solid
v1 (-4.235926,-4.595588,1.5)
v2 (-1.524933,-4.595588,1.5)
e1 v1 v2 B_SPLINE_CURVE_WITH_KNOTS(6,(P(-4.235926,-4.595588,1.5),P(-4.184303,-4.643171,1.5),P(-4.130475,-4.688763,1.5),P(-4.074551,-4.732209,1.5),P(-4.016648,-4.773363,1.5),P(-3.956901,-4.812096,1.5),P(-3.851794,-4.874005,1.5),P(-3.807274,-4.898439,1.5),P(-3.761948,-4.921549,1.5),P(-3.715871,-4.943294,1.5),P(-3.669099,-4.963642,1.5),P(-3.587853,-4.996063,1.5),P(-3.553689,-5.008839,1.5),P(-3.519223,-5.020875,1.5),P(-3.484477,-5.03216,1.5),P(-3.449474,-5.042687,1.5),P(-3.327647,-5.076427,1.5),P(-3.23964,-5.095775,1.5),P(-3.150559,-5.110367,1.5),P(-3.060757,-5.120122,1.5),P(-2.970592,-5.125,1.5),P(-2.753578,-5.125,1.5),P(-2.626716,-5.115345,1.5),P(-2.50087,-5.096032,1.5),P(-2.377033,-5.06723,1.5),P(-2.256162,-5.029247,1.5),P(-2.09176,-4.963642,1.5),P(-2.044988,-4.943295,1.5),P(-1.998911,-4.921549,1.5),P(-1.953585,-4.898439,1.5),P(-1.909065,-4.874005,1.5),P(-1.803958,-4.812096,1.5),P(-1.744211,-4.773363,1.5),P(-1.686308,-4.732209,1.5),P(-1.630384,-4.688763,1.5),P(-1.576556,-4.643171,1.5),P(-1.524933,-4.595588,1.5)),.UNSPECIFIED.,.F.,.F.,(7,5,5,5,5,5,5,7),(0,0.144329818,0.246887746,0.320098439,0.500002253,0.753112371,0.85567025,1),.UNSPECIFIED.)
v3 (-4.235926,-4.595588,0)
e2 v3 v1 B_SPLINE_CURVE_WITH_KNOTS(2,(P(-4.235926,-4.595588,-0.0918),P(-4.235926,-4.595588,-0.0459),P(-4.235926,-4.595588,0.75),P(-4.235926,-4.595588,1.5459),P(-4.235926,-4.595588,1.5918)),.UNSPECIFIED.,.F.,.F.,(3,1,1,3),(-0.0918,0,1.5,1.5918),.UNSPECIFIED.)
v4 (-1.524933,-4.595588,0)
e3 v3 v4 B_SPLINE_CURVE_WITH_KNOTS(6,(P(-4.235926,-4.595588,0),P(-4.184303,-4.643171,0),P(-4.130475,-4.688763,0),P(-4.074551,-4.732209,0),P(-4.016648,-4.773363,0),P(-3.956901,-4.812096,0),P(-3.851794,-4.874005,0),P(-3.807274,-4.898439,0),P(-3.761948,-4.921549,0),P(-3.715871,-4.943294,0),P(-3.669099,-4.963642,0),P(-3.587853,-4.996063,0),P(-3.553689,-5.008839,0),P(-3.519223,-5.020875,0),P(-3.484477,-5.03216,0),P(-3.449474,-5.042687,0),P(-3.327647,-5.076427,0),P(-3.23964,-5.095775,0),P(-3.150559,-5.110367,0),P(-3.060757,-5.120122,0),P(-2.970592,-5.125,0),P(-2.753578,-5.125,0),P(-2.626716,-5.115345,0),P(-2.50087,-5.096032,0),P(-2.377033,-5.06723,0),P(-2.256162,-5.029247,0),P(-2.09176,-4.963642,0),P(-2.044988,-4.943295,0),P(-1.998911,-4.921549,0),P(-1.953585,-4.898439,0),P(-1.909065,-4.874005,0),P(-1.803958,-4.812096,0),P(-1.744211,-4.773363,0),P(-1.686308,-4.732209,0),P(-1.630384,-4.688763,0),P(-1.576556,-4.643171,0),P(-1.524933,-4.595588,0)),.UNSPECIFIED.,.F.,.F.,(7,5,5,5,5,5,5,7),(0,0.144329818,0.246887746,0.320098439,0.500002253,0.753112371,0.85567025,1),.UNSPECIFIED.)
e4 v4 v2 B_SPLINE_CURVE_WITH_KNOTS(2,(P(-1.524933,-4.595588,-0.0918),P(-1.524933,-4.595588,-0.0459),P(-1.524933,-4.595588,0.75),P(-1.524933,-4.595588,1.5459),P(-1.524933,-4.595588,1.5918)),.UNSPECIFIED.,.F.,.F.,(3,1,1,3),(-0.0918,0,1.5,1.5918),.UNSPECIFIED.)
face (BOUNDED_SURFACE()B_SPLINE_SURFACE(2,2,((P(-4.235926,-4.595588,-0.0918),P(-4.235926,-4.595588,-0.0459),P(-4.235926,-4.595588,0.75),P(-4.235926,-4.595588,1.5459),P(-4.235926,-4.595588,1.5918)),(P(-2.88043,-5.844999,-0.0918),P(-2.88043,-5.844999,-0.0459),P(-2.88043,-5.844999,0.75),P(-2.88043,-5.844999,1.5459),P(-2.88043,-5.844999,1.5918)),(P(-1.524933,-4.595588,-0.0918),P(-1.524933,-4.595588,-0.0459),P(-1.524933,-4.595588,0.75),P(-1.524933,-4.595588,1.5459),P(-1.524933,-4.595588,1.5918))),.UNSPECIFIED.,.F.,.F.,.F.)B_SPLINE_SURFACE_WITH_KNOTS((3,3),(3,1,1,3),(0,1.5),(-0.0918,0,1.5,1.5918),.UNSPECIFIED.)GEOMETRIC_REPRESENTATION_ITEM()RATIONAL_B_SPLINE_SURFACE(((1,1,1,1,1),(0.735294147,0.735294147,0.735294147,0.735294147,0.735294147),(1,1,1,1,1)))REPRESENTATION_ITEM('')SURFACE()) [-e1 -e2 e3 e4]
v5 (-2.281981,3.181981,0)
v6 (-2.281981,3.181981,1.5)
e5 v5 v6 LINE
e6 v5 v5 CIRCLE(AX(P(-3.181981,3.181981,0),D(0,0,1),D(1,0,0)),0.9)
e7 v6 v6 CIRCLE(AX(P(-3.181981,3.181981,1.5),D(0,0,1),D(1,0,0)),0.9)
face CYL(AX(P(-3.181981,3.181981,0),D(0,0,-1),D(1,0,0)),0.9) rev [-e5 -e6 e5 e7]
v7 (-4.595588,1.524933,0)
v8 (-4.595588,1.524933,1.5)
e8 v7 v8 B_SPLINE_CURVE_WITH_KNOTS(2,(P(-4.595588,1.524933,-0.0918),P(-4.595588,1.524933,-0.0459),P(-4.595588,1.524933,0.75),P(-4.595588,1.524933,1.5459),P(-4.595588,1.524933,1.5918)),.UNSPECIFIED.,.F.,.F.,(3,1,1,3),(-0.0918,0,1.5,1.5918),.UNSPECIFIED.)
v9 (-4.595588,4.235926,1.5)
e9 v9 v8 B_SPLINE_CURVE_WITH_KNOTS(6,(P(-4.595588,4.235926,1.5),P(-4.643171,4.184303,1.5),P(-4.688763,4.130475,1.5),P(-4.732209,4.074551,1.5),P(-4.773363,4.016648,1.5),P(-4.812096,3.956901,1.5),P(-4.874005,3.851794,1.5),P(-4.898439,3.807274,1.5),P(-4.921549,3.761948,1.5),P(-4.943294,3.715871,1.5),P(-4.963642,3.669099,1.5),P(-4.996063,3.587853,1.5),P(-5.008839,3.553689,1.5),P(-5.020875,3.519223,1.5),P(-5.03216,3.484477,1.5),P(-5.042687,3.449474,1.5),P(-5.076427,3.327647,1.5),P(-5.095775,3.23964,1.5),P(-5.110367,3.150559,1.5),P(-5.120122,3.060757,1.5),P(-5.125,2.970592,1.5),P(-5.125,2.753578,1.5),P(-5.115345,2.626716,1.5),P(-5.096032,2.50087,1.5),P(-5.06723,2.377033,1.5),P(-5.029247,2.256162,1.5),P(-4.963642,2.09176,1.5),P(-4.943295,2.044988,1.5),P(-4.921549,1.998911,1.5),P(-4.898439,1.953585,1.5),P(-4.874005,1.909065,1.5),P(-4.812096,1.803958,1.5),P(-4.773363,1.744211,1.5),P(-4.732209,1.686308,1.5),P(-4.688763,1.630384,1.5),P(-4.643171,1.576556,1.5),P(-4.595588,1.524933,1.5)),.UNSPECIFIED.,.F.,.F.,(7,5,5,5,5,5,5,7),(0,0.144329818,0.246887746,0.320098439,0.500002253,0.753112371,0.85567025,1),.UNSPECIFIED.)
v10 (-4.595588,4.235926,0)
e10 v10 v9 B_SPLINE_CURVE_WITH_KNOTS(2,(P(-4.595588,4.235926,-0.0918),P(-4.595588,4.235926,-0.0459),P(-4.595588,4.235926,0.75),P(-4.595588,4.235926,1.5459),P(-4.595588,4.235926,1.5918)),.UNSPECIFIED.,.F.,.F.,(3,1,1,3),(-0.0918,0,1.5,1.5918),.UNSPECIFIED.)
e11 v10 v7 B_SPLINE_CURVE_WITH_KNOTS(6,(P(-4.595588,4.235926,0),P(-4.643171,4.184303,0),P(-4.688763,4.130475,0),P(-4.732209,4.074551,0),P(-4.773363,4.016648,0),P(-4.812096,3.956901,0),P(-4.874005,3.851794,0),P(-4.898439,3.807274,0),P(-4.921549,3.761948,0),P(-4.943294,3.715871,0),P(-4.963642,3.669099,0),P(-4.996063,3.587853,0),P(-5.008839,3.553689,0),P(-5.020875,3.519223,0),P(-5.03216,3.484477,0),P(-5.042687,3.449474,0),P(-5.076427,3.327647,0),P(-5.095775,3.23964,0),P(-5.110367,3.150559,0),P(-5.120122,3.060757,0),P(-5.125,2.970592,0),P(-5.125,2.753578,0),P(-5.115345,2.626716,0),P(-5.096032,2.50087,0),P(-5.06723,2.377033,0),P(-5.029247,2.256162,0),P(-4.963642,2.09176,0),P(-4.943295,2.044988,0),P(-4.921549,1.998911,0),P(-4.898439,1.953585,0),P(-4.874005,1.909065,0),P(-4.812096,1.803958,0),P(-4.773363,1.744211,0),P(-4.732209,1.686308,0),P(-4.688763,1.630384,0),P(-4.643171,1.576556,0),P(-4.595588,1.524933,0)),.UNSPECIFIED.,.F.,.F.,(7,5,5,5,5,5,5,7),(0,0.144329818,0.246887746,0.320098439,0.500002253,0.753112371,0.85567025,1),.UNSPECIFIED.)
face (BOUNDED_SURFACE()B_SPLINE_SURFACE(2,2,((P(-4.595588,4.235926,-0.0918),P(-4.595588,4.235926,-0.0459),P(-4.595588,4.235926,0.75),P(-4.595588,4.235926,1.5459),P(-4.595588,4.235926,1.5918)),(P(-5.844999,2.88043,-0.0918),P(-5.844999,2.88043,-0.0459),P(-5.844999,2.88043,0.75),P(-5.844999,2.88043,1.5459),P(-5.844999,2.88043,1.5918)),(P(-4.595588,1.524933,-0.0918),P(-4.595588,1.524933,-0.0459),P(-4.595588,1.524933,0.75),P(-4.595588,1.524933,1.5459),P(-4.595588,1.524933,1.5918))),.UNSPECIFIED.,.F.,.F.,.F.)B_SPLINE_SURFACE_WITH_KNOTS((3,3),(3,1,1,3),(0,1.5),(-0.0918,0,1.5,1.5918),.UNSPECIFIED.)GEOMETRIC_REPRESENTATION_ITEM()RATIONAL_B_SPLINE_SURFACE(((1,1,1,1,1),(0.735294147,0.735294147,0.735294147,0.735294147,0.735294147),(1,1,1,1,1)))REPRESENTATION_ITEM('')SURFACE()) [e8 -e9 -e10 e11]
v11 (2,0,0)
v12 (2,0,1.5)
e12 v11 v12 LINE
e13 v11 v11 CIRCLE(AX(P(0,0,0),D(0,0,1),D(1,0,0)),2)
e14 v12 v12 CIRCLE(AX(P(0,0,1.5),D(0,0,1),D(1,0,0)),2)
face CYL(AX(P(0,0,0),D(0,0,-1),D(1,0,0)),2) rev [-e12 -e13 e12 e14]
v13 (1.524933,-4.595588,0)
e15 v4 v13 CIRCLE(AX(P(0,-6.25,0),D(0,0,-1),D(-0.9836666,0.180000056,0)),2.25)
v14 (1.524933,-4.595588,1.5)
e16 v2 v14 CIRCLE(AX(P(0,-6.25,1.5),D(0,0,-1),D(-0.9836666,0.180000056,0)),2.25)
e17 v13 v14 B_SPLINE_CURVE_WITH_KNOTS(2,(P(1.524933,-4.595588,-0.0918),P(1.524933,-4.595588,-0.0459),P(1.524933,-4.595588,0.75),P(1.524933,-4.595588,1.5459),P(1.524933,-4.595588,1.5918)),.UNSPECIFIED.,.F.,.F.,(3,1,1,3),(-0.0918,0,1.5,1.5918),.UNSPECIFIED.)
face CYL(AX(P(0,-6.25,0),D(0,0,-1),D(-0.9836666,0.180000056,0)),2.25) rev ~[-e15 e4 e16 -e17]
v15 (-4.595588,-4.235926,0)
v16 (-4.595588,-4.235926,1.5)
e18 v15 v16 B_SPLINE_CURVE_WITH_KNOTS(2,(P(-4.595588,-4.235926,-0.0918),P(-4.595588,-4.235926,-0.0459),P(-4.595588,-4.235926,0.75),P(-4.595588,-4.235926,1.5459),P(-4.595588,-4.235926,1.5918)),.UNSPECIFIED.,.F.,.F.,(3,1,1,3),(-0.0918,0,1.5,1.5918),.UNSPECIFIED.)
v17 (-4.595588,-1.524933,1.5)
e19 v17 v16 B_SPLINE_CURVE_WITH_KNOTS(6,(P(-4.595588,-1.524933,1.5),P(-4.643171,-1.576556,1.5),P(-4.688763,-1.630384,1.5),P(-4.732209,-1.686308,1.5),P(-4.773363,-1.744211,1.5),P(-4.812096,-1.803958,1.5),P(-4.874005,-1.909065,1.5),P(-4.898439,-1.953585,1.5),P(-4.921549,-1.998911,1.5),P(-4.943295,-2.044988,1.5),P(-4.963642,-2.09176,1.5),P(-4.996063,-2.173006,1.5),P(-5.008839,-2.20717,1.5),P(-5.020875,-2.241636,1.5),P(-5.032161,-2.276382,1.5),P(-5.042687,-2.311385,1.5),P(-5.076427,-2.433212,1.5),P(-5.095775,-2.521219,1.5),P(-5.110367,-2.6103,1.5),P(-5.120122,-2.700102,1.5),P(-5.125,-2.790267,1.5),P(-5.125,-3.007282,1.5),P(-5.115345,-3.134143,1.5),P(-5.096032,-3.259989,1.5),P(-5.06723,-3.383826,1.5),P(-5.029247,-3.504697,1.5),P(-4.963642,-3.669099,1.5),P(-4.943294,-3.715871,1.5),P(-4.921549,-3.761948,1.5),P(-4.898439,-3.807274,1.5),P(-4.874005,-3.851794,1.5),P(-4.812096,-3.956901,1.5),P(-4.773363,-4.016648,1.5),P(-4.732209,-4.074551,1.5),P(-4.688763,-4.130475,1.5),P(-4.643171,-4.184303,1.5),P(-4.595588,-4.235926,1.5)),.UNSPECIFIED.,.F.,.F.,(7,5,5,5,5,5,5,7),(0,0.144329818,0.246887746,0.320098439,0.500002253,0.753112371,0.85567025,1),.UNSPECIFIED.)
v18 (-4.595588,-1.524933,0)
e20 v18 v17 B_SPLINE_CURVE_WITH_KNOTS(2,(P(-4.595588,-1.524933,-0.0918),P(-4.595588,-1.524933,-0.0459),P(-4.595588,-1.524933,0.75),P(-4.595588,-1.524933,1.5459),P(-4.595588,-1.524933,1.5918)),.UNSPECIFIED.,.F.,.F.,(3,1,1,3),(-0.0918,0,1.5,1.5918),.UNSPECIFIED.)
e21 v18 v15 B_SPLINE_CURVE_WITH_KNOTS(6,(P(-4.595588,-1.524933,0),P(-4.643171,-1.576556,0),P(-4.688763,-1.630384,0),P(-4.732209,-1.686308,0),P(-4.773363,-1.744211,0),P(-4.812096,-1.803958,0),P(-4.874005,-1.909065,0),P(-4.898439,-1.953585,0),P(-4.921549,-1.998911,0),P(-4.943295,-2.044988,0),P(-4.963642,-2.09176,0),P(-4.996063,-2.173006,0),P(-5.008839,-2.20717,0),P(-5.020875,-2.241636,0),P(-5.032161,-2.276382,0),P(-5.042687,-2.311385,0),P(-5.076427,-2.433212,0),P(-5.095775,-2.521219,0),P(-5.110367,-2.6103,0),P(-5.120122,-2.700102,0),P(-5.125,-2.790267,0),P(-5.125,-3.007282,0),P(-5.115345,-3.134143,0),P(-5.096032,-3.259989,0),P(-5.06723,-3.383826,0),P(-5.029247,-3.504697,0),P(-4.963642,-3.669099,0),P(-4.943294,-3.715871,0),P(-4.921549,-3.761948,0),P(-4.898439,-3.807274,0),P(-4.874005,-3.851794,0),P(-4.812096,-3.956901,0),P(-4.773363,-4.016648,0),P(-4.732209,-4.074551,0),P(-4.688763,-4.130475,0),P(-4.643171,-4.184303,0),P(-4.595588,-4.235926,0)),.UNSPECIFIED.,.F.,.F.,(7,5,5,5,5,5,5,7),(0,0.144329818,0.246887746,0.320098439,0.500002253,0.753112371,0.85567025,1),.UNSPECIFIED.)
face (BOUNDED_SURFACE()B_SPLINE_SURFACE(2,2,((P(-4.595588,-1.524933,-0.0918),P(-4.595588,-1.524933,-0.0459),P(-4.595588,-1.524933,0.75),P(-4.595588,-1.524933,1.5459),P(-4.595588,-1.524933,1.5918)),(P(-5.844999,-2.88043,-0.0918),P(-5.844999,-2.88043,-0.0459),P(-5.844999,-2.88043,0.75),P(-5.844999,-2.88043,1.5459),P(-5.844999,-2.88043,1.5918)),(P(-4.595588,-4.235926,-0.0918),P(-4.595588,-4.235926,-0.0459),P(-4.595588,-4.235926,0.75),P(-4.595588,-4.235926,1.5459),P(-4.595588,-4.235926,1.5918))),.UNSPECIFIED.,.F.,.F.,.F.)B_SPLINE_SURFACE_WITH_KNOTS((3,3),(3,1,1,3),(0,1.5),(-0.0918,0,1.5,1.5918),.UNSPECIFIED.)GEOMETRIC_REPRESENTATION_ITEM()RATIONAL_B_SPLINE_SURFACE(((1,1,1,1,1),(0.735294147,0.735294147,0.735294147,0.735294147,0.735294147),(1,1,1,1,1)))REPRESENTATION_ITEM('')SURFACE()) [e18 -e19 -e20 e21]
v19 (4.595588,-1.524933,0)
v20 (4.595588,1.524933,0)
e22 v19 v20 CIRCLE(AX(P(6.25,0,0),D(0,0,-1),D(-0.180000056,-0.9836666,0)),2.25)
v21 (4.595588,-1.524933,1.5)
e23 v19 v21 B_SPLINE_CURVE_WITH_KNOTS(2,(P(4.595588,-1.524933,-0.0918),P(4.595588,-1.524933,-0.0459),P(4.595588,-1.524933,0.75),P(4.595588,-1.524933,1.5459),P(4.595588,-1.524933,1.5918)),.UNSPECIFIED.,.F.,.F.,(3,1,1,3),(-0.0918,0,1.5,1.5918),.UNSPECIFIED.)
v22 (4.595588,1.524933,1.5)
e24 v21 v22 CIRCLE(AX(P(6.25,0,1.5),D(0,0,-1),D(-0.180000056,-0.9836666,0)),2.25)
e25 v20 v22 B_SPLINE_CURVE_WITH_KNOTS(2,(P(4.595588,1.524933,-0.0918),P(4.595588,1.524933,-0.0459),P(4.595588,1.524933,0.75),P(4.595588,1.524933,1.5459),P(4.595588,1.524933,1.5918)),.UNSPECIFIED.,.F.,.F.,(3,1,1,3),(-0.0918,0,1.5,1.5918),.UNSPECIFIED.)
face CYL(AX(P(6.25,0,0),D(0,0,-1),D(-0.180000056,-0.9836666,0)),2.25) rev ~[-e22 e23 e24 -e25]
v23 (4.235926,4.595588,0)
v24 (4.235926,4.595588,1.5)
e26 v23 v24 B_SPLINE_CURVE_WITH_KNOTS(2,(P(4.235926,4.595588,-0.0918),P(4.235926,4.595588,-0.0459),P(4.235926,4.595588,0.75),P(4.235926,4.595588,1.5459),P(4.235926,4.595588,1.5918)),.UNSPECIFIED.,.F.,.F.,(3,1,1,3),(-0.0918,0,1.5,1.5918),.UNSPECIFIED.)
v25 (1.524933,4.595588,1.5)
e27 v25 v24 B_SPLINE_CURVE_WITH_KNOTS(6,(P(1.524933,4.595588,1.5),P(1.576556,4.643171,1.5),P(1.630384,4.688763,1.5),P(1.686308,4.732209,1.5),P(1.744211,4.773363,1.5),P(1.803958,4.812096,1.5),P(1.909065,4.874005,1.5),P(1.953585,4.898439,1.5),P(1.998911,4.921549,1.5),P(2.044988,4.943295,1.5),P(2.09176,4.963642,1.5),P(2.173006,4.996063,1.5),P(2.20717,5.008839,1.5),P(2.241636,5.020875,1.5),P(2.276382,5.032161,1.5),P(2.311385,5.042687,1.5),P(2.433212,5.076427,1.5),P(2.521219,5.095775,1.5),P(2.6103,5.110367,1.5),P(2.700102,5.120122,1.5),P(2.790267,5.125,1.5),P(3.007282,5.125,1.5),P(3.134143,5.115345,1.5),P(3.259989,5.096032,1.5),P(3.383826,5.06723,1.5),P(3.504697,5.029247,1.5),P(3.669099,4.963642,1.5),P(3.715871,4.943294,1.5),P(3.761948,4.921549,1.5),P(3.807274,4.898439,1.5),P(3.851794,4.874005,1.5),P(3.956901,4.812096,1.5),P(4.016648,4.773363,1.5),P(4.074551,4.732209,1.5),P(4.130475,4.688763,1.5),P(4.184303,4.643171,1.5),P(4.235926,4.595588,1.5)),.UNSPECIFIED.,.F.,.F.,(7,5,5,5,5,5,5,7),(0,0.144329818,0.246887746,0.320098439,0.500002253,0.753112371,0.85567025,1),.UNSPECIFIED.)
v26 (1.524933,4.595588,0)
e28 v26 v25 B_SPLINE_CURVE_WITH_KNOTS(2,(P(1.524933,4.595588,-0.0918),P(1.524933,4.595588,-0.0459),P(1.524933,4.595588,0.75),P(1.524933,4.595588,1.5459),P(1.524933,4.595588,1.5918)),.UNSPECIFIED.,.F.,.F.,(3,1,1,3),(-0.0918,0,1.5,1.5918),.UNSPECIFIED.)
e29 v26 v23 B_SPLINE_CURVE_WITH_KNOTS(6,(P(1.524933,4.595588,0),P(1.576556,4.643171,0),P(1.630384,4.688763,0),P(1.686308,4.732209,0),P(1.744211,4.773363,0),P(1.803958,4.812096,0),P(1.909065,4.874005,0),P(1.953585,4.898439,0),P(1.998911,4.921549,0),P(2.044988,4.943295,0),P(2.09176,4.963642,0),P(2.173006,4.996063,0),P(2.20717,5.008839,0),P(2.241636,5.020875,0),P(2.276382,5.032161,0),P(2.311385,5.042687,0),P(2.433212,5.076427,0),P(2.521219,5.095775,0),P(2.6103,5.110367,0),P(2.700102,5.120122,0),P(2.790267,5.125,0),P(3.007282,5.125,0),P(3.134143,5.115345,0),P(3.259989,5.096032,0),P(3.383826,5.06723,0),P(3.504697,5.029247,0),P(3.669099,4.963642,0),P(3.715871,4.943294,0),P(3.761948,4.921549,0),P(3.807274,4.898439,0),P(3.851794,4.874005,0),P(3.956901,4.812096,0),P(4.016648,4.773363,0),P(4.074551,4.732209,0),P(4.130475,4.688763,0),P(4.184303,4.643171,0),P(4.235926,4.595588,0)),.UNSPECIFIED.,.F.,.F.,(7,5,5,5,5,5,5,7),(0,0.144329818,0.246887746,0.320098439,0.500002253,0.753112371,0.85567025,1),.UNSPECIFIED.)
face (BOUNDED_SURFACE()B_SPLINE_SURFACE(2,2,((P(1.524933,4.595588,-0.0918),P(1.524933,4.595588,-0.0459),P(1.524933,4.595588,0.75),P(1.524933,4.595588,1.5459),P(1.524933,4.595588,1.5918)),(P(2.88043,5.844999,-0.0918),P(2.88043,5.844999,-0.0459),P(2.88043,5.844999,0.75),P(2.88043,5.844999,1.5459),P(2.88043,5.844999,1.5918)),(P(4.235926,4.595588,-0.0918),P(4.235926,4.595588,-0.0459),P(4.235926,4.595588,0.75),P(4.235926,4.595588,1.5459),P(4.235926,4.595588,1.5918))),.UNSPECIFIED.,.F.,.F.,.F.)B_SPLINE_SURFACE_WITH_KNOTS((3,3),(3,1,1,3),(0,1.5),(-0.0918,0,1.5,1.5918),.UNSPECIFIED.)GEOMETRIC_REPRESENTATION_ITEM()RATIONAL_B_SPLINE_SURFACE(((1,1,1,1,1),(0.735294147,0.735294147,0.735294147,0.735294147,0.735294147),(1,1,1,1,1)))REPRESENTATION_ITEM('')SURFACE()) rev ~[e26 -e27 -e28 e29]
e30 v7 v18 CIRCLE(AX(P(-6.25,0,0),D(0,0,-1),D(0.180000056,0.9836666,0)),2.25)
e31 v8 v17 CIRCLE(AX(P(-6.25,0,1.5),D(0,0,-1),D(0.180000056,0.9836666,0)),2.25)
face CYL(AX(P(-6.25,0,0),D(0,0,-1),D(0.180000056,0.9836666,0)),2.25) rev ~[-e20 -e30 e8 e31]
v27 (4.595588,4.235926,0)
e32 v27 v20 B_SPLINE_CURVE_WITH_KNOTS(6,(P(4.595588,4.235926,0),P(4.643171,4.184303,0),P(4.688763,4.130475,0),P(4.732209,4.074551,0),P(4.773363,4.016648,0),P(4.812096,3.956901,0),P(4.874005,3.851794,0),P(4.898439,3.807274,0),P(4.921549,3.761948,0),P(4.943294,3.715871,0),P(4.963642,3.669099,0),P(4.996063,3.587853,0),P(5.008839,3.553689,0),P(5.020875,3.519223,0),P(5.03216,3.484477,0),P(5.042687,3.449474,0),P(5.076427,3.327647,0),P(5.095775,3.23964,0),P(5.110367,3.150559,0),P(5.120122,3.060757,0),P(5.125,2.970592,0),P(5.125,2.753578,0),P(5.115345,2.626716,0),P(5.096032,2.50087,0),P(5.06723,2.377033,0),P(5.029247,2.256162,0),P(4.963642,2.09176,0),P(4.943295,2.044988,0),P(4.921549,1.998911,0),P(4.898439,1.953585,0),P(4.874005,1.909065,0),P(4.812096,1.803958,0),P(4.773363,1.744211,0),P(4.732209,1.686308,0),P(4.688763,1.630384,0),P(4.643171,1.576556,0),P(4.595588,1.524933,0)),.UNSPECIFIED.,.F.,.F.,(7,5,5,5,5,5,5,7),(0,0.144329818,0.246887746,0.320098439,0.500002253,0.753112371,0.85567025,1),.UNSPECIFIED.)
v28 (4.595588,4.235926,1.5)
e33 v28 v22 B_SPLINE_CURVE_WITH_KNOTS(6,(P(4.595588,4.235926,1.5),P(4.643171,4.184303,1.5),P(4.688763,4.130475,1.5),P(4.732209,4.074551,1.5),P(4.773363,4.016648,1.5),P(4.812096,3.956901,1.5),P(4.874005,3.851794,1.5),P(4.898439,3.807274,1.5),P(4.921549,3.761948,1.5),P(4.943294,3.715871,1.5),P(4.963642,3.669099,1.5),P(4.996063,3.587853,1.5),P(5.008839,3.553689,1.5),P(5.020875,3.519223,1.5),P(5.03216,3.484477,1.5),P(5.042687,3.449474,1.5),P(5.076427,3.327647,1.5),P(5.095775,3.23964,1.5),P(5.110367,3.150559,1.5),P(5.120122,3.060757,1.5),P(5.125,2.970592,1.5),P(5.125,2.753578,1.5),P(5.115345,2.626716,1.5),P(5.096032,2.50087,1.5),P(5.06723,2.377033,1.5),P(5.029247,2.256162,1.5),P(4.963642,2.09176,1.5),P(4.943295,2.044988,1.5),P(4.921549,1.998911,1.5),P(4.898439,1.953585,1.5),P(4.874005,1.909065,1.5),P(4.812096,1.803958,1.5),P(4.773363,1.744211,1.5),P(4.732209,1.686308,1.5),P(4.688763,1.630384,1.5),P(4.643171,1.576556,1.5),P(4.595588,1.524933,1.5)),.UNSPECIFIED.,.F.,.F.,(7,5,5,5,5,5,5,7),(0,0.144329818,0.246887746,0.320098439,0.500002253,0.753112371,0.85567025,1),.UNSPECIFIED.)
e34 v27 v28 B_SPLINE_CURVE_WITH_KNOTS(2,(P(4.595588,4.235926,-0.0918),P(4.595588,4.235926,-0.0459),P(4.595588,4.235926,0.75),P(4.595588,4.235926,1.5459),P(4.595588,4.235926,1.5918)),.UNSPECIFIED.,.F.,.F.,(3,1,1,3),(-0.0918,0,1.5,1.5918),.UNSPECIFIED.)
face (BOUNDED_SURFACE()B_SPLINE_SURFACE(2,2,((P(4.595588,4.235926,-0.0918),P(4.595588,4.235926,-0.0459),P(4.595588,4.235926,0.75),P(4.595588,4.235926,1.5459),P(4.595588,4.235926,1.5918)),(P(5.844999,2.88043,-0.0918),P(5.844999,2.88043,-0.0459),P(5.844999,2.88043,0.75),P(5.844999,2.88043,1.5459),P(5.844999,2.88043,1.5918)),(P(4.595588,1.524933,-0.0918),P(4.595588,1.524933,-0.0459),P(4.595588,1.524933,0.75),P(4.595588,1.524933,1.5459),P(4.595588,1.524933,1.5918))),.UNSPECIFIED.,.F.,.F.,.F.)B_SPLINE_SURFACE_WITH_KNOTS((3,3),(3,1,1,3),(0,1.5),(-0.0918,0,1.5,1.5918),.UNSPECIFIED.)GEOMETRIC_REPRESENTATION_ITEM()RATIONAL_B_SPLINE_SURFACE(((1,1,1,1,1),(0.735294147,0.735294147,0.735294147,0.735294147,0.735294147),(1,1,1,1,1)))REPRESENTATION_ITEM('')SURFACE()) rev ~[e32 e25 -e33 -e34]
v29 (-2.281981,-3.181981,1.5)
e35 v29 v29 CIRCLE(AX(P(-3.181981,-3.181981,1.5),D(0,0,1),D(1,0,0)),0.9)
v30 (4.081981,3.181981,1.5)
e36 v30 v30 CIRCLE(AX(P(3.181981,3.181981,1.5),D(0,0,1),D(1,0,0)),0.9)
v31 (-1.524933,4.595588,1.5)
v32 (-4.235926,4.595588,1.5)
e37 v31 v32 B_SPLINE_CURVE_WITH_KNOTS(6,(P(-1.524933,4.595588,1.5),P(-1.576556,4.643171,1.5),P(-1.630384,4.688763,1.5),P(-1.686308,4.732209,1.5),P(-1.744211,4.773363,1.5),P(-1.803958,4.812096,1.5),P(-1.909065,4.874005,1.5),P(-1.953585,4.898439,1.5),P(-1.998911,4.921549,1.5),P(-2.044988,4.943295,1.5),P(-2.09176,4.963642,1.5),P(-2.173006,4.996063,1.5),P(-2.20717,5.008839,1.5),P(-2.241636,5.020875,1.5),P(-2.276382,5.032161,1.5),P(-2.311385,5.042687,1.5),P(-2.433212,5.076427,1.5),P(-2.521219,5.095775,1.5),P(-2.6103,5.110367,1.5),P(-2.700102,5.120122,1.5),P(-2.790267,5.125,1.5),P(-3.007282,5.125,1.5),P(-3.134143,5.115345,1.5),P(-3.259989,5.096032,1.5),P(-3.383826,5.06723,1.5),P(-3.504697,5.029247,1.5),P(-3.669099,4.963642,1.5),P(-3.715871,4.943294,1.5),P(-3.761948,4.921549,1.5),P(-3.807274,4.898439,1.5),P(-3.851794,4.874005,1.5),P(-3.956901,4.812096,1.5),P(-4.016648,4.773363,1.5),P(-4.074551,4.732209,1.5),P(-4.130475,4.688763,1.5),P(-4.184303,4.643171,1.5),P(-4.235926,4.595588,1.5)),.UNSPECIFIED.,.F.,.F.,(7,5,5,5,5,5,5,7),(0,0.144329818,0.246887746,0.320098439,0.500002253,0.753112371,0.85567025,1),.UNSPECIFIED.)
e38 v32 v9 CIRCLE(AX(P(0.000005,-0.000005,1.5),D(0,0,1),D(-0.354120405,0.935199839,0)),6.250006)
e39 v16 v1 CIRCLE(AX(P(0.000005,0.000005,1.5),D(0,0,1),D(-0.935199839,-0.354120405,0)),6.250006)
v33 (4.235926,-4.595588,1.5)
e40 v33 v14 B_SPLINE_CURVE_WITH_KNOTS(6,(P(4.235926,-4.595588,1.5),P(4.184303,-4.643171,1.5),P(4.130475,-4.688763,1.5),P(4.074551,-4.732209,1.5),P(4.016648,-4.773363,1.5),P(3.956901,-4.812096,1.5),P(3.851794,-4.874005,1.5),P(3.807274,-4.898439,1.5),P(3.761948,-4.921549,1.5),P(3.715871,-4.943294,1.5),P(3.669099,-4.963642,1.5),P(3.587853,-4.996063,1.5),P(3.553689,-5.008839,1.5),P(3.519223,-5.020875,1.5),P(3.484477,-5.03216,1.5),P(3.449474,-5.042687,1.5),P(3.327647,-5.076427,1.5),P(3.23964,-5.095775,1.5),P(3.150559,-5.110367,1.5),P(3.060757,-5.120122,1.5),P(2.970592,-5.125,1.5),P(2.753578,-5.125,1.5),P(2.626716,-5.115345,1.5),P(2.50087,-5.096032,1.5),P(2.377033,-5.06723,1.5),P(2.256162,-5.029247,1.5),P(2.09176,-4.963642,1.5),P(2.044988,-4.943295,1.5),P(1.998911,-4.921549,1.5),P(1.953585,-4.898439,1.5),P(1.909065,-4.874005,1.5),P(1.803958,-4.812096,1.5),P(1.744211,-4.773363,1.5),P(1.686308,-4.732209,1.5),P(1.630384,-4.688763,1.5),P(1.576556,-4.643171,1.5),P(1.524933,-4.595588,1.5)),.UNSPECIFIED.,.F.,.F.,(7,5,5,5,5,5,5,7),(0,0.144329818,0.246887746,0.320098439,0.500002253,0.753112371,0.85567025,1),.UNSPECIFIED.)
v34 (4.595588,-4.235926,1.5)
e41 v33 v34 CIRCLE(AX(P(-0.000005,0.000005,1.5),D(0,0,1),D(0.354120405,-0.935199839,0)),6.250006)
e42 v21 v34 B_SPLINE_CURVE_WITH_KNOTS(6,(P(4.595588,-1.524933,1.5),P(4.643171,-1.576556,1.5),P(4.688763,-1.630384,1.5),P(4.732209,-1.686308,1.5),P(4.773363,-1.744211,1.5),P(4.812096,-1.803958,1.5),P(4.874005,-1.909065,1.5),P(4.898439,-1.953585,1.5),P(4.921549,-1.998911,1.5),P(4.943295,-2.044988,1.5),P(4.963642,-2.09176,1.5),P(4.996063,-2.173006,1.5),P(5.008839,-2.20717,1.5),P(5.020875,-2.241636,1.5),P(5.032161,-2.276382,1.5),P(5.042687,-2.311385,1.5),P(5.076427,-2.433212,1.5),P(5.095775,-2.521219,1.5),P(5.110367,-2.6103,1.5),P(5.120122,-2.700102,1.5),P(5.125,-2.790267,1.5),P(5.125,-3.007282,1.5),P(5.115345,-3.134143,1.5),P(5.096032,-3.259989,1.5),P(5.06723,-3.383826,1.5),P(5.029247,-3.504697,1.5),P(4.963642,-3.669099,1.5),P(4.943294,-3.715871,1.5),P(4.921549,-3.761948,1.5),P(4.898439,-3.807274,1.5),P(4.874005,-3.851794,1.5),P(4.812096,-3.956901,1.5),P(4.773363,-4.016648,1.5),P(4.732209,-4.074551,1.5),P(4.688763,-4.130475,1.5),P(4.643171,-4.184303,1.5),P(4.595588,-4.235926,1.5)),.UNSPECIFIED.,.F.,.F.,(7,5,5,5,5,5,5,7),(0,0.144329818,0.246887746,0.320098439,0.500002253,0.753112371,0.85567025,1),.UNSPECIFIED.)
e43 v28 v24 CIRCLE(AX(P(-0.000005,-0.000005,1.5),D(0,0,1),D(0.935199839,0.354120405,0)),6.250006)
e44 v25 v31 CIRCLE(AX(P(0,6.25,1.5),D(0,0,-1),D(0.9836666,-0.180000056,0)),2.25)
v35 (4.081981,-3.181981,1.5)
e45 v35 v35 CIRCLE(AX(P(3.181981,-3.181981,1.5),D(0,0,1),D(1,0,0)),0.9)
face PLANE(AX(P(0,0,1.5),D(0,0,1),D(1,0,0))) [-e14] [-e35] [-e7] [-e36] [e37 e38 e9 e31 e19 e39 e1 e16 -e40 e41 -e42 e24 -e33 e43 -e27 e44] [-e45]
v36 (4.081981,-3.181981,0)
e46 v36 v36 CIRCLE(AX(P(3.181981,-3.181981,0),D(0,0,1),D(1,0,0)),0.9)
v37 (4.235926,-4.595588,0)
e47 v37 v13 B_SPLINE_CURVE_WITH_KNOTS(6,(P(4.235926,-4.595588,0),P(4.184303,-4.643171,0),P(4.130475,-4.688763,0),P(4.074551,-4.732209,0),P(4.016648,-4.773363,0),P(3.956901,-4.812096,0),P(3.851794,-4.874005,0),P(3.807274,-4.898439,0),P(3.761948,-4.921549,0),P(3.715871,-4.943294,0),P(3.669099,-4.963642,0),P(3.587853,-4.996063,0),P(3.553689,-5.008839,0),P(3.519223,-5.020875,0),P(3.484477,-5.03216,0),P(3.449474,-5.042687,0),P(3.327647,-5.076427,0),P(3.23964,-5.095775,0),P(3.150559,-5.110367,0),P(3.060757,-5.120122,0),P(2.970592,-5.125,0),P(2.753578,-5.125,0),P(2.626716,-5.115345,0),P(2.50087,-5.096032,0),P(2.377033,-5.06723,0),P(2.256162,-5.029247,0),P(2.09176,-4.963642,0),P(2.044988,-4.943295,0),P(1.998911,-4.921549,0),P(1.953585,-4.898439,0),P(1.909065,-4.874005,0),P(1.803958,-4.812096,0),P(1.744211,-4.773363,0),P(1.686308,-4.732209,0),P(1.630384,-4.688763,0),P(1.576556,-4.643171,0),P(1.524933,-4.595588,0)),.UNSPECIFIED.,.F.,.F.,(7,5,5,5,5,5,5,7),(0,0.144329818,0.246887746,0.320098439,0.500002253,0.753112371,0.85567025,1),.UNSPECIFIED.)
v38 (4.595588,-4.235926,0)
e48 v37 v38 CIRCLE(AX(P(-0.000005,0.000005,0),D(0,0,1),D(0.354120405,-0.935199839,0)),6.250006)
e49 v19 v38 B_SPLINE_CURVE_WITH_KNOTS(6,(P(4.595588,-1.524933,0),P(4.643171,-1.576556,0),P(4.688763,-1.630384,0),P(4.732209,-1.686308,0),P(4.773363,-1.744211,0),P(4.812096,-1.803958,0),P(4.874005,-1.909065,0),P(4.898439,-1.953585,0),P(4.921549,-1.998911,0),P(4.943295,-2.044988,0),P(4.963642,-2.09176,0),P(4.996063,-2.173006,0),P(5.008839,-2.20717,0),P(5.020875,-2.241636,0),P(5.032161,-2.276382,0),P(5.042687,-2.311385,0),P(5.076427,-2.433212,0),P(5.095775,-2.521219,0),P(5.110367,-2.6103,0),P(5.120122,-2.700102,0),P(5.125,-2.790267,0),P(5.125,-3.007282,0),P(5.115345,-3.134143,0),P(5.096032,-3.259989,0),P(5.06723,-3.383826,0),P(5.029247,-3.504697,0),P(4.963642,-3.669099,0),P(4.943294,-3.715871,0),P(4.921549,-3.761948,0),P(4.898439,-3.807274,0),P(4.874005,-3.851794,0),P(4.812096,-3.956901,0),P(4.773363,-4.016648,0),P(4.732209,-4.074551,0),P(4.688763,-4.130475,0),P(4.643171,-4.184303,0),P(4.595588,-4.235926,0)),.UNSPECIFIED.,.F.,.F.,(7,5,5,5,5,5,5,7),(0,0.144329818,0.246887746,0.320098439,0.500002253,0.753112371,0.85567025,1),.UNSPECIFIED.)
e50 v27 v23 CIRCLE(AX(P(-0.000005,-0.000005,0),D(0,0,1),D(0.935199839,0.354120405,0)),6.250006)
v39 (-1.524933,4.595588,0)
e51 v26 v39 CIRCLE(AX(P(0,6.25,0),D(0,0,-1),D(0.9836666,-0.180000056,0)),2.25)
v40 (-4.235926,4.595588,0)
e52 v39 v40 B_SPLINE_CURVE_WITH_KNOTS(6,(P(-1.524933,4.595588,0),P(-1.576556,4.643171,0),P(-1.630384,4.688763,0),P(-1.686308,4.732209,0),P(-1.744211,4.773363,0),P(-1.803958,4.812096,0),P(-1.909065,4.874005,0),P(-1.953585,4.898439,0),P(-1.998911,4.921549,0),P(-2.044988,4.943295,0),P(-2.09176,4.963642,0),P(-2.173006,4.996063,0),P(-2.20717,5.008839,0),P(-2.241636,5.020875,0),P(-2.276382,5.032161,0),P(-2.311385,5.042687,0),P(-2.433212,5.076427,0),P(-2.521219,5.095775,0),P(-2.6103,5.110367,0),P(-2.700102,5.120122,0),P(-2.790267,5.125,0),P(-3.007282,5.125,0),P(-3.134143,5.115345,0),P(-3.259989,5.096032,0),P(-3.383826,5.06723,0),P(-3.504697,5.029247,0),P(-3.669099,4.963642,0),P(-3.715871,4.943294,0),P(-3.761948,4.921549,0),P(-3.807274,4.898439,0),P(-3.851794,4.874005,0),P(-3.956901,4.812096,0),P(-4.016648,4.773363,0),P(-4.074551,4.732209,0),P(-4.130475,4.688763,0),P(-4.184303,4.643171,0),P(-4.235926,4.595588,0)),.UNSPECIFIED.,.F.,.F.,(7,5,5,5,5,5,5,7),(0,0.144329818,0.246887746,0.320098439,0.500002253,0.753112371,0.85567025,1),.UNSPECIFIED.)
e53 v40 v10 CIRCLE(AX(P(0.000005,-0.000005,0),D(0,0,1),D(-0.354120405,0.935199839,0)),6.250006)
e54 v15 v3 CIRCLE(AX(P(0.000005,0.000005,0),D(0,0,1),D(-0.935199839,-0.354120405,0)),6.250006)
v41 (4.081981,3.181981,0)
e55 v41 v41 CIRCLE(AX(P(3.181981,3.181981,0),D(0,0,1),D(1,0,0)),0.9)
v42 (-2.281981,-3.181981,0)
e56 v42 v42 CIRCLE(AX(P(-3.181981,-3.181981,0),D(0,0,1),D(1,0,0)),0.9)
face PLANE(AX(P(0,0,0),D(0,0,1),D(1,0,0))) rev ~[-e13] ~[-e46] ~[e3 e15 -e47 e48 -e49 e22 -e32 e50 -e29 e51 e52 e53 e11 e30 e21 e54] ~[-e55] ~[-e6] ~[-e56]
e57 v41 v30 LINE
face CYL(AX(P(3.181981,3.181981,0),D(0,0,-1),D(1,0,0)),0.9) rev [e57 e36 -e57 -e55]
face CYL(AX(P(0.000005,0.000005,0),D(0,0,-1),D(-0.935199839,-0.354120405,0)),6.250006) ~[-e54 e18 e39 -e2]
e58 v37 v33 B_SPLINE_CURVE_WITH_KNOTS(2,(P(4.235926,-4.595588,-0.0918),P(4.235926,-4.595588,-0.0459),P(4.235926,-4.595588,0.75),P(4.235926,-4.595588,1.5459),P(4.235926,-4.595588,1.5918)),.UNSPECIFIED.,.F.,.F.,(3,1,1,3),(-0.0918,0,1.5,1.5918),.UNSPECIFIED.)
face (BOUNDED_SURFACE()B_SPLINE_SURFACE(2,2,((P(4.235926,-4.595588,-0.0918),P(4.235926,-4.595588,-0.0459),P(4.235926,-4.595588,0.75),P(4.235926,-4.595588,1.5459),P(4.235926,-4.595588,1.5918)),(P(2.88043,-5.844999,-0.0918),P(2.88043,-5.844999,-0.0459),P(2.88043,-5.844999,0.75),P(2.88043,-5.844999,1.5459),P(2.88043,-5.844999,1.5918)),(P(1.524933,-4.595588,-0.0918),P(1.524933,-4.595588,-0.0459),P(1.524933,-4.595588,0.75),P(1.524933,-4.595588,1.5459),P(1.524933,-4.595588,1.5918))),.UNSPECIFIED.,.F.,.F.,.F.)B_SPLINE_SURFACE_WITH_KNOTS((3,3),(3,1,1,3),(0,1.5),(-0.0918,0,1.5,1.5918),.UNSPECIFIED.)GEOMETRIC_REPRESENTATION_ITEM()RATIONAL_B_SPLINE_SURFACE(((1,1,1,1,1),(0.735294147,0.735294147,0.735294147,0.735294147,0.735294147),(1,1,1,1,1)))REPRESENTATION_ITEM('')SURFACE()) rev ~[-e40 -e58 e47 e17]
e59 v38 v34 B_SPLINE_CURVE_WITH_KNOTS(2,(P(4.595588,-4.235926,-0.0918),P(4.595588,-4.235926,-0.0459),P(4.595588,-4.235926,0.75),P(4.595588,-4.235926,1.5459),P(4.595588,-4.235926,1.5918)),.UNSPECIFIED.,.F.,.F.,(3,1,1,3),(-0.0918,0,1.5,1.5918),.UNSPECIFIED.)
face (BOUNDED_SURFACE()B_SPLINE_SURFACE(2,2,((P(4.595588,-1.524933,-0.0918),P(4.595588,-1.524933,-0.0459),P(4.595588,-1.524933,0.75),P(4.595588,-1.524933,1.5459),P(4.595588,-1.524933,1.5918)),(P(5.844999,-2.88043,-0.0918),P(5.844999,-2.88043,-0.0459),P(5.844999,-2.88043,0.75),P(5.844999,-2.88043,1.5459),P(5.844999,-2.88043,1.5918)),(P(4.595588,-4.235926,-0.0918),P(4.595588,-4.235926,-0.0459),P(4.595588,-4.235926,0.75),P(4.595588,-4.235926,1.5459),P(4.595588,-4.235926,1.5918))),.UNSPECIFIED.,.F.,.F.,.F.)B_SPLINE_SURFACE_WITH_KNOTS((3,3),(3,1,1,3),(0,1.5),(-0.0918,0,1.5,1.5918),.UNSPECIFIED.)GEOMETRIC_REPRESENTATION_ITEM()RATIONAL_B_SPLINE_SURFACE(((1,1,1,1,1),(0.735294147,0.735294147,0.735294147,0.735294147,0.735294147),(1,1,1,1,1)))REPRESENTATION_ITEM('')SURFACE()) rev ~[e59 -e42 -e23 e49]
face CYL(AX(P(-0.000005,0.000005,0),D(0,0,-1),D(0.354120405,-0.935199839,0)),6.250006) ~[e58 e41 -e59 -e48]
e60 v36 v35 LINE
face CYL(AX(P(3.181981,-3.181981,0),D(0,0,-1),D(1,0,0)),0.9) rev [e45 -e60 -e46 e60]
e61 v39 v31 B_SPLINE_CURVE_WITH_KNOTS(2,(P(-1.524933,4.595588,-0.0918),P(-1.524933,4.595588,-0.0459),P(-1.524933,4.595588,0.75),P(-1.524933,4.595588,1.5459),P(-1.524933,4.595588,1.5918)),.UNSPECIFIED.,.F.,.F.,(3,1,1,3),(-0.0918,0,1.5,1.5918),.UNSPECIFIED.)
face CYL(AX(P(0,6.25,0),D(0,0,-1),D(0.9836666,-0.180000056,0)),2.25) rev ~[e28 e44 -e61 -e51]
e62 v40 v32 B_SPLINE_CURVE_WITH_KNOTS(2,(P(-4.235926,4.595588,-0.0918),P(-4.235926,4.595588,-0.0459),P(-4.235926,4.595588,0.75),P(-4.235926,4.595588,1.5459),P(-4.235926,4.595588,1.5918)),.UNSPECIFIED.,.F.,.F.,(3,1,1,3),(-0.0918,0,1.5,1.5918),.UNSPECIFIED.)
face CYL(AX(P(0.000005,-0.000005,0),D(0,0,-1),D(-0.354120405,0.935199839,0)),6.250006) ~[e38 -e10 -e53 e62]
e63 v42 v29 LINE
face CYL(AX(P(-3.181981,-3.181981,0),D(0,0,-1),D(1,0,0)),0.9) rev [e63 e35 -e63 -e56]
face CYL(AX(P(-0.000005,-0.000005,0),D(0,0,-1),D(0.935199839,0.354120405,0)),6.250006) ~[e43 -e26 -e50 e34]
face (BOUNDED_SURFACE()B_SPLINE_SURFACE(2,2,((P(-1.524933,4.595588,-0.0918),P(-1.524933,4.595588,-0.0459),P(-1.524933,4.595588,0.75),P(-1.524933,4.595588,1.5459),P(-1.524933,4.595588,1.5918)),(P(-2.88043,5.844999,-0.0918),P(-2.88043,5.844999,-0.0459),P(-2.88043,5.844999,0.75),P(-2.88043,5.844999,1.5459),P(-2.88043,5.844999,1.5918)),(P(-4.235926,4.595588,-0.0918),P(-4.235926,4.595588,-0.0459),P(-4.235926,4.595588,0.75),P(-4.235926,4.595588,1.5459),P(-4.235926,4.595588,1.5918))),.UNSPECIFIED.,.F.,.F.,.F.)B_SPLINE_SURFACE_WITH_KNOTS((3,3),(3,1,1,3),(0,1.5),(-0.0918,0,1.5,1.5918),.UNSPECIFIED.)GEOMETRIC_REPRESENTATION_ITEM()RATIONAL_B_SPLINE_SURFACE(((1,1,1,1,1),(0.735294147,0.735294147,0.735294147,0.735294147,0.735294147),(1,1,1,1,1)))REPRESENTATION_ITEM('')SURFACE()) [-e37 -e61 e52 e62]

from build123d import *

# Parameters (mm, degrees)
F0_R     = 0.9
F0_R_2   = 2
F1_DEPTH = 1.5
F2_R     = 2


with BuildPart() as f1:
    # F0 (on Top) → F1 (new body)
    with BuildSketch(Plane.XY):
        with BuildLine():
            ThreePointArc((2.21325, 5.845), (0, 4), (-2.21325, 5.845))
            ThreePointArc((-2.21325, 5.845), (-4.419417, 4.419417), (-5.845, 2.21325))
            ThreePointArc((-5.845, 2.21325), (-4, 0), (-5.845, -2.21325))
            ThreePointArc((-5.845, -2.21325), (-4.419417, -4.419417), (-2.21325, -5.845))
            ThreePointArc((-2.21325, -5.845), (0, -4), (2.21325, -5.845))
            ThreePointArc((2.21325, -5.845), (4.419417, -4.419417), (5.845, -2.21325))
            ThreePointArc((5.845, -2.21325), (4, 0), (5.845, 2.21325))
            ThreePointArc((5.845, 2.21325), (4.419417, 4.419417), (2.21325, 5.845))
        make_face()
        with Locations((-3.181981, -3.181981)):
            Circle(F0_R, mode=Mode.SUBTRACT)
        with Locations((3.181981, -3.181981)):
            Circle(F0_R, mode=Mode.SUBTRACT)
        Circle(F0_R_2, mode=Mode.SUBTRACT)
        with Locations((-3.181981, 3.181981)):
            Circle(F0_R, mode=Mode.SUBTRACT)
        with Locations((3.181981, 3.181981)):
            Circle(F0_R, mode=Mode.SUBTRACT)
    extrude(amount=F1_DEPTH)

    # F2
    f2_edges = [f1.edges().sort_by_distance(p)[0] for p in [
        (2.21325, -5.845, 0.75),
        (-2.21325, -5.845, 0.75),
        (5.845, -2.21325, 0.75),
        (5.845, 2.21325, 0.75),
        (-5.845, -2.21325, 0.75),
        (-2.21325, 5.845, 0.75),
        (2.21325, 5.845, 0.75),
        (-5.845, 2.21325, 0.75),
    ]]
    fillet(f2_edges, radius=F2_R)


solid = f1.part
